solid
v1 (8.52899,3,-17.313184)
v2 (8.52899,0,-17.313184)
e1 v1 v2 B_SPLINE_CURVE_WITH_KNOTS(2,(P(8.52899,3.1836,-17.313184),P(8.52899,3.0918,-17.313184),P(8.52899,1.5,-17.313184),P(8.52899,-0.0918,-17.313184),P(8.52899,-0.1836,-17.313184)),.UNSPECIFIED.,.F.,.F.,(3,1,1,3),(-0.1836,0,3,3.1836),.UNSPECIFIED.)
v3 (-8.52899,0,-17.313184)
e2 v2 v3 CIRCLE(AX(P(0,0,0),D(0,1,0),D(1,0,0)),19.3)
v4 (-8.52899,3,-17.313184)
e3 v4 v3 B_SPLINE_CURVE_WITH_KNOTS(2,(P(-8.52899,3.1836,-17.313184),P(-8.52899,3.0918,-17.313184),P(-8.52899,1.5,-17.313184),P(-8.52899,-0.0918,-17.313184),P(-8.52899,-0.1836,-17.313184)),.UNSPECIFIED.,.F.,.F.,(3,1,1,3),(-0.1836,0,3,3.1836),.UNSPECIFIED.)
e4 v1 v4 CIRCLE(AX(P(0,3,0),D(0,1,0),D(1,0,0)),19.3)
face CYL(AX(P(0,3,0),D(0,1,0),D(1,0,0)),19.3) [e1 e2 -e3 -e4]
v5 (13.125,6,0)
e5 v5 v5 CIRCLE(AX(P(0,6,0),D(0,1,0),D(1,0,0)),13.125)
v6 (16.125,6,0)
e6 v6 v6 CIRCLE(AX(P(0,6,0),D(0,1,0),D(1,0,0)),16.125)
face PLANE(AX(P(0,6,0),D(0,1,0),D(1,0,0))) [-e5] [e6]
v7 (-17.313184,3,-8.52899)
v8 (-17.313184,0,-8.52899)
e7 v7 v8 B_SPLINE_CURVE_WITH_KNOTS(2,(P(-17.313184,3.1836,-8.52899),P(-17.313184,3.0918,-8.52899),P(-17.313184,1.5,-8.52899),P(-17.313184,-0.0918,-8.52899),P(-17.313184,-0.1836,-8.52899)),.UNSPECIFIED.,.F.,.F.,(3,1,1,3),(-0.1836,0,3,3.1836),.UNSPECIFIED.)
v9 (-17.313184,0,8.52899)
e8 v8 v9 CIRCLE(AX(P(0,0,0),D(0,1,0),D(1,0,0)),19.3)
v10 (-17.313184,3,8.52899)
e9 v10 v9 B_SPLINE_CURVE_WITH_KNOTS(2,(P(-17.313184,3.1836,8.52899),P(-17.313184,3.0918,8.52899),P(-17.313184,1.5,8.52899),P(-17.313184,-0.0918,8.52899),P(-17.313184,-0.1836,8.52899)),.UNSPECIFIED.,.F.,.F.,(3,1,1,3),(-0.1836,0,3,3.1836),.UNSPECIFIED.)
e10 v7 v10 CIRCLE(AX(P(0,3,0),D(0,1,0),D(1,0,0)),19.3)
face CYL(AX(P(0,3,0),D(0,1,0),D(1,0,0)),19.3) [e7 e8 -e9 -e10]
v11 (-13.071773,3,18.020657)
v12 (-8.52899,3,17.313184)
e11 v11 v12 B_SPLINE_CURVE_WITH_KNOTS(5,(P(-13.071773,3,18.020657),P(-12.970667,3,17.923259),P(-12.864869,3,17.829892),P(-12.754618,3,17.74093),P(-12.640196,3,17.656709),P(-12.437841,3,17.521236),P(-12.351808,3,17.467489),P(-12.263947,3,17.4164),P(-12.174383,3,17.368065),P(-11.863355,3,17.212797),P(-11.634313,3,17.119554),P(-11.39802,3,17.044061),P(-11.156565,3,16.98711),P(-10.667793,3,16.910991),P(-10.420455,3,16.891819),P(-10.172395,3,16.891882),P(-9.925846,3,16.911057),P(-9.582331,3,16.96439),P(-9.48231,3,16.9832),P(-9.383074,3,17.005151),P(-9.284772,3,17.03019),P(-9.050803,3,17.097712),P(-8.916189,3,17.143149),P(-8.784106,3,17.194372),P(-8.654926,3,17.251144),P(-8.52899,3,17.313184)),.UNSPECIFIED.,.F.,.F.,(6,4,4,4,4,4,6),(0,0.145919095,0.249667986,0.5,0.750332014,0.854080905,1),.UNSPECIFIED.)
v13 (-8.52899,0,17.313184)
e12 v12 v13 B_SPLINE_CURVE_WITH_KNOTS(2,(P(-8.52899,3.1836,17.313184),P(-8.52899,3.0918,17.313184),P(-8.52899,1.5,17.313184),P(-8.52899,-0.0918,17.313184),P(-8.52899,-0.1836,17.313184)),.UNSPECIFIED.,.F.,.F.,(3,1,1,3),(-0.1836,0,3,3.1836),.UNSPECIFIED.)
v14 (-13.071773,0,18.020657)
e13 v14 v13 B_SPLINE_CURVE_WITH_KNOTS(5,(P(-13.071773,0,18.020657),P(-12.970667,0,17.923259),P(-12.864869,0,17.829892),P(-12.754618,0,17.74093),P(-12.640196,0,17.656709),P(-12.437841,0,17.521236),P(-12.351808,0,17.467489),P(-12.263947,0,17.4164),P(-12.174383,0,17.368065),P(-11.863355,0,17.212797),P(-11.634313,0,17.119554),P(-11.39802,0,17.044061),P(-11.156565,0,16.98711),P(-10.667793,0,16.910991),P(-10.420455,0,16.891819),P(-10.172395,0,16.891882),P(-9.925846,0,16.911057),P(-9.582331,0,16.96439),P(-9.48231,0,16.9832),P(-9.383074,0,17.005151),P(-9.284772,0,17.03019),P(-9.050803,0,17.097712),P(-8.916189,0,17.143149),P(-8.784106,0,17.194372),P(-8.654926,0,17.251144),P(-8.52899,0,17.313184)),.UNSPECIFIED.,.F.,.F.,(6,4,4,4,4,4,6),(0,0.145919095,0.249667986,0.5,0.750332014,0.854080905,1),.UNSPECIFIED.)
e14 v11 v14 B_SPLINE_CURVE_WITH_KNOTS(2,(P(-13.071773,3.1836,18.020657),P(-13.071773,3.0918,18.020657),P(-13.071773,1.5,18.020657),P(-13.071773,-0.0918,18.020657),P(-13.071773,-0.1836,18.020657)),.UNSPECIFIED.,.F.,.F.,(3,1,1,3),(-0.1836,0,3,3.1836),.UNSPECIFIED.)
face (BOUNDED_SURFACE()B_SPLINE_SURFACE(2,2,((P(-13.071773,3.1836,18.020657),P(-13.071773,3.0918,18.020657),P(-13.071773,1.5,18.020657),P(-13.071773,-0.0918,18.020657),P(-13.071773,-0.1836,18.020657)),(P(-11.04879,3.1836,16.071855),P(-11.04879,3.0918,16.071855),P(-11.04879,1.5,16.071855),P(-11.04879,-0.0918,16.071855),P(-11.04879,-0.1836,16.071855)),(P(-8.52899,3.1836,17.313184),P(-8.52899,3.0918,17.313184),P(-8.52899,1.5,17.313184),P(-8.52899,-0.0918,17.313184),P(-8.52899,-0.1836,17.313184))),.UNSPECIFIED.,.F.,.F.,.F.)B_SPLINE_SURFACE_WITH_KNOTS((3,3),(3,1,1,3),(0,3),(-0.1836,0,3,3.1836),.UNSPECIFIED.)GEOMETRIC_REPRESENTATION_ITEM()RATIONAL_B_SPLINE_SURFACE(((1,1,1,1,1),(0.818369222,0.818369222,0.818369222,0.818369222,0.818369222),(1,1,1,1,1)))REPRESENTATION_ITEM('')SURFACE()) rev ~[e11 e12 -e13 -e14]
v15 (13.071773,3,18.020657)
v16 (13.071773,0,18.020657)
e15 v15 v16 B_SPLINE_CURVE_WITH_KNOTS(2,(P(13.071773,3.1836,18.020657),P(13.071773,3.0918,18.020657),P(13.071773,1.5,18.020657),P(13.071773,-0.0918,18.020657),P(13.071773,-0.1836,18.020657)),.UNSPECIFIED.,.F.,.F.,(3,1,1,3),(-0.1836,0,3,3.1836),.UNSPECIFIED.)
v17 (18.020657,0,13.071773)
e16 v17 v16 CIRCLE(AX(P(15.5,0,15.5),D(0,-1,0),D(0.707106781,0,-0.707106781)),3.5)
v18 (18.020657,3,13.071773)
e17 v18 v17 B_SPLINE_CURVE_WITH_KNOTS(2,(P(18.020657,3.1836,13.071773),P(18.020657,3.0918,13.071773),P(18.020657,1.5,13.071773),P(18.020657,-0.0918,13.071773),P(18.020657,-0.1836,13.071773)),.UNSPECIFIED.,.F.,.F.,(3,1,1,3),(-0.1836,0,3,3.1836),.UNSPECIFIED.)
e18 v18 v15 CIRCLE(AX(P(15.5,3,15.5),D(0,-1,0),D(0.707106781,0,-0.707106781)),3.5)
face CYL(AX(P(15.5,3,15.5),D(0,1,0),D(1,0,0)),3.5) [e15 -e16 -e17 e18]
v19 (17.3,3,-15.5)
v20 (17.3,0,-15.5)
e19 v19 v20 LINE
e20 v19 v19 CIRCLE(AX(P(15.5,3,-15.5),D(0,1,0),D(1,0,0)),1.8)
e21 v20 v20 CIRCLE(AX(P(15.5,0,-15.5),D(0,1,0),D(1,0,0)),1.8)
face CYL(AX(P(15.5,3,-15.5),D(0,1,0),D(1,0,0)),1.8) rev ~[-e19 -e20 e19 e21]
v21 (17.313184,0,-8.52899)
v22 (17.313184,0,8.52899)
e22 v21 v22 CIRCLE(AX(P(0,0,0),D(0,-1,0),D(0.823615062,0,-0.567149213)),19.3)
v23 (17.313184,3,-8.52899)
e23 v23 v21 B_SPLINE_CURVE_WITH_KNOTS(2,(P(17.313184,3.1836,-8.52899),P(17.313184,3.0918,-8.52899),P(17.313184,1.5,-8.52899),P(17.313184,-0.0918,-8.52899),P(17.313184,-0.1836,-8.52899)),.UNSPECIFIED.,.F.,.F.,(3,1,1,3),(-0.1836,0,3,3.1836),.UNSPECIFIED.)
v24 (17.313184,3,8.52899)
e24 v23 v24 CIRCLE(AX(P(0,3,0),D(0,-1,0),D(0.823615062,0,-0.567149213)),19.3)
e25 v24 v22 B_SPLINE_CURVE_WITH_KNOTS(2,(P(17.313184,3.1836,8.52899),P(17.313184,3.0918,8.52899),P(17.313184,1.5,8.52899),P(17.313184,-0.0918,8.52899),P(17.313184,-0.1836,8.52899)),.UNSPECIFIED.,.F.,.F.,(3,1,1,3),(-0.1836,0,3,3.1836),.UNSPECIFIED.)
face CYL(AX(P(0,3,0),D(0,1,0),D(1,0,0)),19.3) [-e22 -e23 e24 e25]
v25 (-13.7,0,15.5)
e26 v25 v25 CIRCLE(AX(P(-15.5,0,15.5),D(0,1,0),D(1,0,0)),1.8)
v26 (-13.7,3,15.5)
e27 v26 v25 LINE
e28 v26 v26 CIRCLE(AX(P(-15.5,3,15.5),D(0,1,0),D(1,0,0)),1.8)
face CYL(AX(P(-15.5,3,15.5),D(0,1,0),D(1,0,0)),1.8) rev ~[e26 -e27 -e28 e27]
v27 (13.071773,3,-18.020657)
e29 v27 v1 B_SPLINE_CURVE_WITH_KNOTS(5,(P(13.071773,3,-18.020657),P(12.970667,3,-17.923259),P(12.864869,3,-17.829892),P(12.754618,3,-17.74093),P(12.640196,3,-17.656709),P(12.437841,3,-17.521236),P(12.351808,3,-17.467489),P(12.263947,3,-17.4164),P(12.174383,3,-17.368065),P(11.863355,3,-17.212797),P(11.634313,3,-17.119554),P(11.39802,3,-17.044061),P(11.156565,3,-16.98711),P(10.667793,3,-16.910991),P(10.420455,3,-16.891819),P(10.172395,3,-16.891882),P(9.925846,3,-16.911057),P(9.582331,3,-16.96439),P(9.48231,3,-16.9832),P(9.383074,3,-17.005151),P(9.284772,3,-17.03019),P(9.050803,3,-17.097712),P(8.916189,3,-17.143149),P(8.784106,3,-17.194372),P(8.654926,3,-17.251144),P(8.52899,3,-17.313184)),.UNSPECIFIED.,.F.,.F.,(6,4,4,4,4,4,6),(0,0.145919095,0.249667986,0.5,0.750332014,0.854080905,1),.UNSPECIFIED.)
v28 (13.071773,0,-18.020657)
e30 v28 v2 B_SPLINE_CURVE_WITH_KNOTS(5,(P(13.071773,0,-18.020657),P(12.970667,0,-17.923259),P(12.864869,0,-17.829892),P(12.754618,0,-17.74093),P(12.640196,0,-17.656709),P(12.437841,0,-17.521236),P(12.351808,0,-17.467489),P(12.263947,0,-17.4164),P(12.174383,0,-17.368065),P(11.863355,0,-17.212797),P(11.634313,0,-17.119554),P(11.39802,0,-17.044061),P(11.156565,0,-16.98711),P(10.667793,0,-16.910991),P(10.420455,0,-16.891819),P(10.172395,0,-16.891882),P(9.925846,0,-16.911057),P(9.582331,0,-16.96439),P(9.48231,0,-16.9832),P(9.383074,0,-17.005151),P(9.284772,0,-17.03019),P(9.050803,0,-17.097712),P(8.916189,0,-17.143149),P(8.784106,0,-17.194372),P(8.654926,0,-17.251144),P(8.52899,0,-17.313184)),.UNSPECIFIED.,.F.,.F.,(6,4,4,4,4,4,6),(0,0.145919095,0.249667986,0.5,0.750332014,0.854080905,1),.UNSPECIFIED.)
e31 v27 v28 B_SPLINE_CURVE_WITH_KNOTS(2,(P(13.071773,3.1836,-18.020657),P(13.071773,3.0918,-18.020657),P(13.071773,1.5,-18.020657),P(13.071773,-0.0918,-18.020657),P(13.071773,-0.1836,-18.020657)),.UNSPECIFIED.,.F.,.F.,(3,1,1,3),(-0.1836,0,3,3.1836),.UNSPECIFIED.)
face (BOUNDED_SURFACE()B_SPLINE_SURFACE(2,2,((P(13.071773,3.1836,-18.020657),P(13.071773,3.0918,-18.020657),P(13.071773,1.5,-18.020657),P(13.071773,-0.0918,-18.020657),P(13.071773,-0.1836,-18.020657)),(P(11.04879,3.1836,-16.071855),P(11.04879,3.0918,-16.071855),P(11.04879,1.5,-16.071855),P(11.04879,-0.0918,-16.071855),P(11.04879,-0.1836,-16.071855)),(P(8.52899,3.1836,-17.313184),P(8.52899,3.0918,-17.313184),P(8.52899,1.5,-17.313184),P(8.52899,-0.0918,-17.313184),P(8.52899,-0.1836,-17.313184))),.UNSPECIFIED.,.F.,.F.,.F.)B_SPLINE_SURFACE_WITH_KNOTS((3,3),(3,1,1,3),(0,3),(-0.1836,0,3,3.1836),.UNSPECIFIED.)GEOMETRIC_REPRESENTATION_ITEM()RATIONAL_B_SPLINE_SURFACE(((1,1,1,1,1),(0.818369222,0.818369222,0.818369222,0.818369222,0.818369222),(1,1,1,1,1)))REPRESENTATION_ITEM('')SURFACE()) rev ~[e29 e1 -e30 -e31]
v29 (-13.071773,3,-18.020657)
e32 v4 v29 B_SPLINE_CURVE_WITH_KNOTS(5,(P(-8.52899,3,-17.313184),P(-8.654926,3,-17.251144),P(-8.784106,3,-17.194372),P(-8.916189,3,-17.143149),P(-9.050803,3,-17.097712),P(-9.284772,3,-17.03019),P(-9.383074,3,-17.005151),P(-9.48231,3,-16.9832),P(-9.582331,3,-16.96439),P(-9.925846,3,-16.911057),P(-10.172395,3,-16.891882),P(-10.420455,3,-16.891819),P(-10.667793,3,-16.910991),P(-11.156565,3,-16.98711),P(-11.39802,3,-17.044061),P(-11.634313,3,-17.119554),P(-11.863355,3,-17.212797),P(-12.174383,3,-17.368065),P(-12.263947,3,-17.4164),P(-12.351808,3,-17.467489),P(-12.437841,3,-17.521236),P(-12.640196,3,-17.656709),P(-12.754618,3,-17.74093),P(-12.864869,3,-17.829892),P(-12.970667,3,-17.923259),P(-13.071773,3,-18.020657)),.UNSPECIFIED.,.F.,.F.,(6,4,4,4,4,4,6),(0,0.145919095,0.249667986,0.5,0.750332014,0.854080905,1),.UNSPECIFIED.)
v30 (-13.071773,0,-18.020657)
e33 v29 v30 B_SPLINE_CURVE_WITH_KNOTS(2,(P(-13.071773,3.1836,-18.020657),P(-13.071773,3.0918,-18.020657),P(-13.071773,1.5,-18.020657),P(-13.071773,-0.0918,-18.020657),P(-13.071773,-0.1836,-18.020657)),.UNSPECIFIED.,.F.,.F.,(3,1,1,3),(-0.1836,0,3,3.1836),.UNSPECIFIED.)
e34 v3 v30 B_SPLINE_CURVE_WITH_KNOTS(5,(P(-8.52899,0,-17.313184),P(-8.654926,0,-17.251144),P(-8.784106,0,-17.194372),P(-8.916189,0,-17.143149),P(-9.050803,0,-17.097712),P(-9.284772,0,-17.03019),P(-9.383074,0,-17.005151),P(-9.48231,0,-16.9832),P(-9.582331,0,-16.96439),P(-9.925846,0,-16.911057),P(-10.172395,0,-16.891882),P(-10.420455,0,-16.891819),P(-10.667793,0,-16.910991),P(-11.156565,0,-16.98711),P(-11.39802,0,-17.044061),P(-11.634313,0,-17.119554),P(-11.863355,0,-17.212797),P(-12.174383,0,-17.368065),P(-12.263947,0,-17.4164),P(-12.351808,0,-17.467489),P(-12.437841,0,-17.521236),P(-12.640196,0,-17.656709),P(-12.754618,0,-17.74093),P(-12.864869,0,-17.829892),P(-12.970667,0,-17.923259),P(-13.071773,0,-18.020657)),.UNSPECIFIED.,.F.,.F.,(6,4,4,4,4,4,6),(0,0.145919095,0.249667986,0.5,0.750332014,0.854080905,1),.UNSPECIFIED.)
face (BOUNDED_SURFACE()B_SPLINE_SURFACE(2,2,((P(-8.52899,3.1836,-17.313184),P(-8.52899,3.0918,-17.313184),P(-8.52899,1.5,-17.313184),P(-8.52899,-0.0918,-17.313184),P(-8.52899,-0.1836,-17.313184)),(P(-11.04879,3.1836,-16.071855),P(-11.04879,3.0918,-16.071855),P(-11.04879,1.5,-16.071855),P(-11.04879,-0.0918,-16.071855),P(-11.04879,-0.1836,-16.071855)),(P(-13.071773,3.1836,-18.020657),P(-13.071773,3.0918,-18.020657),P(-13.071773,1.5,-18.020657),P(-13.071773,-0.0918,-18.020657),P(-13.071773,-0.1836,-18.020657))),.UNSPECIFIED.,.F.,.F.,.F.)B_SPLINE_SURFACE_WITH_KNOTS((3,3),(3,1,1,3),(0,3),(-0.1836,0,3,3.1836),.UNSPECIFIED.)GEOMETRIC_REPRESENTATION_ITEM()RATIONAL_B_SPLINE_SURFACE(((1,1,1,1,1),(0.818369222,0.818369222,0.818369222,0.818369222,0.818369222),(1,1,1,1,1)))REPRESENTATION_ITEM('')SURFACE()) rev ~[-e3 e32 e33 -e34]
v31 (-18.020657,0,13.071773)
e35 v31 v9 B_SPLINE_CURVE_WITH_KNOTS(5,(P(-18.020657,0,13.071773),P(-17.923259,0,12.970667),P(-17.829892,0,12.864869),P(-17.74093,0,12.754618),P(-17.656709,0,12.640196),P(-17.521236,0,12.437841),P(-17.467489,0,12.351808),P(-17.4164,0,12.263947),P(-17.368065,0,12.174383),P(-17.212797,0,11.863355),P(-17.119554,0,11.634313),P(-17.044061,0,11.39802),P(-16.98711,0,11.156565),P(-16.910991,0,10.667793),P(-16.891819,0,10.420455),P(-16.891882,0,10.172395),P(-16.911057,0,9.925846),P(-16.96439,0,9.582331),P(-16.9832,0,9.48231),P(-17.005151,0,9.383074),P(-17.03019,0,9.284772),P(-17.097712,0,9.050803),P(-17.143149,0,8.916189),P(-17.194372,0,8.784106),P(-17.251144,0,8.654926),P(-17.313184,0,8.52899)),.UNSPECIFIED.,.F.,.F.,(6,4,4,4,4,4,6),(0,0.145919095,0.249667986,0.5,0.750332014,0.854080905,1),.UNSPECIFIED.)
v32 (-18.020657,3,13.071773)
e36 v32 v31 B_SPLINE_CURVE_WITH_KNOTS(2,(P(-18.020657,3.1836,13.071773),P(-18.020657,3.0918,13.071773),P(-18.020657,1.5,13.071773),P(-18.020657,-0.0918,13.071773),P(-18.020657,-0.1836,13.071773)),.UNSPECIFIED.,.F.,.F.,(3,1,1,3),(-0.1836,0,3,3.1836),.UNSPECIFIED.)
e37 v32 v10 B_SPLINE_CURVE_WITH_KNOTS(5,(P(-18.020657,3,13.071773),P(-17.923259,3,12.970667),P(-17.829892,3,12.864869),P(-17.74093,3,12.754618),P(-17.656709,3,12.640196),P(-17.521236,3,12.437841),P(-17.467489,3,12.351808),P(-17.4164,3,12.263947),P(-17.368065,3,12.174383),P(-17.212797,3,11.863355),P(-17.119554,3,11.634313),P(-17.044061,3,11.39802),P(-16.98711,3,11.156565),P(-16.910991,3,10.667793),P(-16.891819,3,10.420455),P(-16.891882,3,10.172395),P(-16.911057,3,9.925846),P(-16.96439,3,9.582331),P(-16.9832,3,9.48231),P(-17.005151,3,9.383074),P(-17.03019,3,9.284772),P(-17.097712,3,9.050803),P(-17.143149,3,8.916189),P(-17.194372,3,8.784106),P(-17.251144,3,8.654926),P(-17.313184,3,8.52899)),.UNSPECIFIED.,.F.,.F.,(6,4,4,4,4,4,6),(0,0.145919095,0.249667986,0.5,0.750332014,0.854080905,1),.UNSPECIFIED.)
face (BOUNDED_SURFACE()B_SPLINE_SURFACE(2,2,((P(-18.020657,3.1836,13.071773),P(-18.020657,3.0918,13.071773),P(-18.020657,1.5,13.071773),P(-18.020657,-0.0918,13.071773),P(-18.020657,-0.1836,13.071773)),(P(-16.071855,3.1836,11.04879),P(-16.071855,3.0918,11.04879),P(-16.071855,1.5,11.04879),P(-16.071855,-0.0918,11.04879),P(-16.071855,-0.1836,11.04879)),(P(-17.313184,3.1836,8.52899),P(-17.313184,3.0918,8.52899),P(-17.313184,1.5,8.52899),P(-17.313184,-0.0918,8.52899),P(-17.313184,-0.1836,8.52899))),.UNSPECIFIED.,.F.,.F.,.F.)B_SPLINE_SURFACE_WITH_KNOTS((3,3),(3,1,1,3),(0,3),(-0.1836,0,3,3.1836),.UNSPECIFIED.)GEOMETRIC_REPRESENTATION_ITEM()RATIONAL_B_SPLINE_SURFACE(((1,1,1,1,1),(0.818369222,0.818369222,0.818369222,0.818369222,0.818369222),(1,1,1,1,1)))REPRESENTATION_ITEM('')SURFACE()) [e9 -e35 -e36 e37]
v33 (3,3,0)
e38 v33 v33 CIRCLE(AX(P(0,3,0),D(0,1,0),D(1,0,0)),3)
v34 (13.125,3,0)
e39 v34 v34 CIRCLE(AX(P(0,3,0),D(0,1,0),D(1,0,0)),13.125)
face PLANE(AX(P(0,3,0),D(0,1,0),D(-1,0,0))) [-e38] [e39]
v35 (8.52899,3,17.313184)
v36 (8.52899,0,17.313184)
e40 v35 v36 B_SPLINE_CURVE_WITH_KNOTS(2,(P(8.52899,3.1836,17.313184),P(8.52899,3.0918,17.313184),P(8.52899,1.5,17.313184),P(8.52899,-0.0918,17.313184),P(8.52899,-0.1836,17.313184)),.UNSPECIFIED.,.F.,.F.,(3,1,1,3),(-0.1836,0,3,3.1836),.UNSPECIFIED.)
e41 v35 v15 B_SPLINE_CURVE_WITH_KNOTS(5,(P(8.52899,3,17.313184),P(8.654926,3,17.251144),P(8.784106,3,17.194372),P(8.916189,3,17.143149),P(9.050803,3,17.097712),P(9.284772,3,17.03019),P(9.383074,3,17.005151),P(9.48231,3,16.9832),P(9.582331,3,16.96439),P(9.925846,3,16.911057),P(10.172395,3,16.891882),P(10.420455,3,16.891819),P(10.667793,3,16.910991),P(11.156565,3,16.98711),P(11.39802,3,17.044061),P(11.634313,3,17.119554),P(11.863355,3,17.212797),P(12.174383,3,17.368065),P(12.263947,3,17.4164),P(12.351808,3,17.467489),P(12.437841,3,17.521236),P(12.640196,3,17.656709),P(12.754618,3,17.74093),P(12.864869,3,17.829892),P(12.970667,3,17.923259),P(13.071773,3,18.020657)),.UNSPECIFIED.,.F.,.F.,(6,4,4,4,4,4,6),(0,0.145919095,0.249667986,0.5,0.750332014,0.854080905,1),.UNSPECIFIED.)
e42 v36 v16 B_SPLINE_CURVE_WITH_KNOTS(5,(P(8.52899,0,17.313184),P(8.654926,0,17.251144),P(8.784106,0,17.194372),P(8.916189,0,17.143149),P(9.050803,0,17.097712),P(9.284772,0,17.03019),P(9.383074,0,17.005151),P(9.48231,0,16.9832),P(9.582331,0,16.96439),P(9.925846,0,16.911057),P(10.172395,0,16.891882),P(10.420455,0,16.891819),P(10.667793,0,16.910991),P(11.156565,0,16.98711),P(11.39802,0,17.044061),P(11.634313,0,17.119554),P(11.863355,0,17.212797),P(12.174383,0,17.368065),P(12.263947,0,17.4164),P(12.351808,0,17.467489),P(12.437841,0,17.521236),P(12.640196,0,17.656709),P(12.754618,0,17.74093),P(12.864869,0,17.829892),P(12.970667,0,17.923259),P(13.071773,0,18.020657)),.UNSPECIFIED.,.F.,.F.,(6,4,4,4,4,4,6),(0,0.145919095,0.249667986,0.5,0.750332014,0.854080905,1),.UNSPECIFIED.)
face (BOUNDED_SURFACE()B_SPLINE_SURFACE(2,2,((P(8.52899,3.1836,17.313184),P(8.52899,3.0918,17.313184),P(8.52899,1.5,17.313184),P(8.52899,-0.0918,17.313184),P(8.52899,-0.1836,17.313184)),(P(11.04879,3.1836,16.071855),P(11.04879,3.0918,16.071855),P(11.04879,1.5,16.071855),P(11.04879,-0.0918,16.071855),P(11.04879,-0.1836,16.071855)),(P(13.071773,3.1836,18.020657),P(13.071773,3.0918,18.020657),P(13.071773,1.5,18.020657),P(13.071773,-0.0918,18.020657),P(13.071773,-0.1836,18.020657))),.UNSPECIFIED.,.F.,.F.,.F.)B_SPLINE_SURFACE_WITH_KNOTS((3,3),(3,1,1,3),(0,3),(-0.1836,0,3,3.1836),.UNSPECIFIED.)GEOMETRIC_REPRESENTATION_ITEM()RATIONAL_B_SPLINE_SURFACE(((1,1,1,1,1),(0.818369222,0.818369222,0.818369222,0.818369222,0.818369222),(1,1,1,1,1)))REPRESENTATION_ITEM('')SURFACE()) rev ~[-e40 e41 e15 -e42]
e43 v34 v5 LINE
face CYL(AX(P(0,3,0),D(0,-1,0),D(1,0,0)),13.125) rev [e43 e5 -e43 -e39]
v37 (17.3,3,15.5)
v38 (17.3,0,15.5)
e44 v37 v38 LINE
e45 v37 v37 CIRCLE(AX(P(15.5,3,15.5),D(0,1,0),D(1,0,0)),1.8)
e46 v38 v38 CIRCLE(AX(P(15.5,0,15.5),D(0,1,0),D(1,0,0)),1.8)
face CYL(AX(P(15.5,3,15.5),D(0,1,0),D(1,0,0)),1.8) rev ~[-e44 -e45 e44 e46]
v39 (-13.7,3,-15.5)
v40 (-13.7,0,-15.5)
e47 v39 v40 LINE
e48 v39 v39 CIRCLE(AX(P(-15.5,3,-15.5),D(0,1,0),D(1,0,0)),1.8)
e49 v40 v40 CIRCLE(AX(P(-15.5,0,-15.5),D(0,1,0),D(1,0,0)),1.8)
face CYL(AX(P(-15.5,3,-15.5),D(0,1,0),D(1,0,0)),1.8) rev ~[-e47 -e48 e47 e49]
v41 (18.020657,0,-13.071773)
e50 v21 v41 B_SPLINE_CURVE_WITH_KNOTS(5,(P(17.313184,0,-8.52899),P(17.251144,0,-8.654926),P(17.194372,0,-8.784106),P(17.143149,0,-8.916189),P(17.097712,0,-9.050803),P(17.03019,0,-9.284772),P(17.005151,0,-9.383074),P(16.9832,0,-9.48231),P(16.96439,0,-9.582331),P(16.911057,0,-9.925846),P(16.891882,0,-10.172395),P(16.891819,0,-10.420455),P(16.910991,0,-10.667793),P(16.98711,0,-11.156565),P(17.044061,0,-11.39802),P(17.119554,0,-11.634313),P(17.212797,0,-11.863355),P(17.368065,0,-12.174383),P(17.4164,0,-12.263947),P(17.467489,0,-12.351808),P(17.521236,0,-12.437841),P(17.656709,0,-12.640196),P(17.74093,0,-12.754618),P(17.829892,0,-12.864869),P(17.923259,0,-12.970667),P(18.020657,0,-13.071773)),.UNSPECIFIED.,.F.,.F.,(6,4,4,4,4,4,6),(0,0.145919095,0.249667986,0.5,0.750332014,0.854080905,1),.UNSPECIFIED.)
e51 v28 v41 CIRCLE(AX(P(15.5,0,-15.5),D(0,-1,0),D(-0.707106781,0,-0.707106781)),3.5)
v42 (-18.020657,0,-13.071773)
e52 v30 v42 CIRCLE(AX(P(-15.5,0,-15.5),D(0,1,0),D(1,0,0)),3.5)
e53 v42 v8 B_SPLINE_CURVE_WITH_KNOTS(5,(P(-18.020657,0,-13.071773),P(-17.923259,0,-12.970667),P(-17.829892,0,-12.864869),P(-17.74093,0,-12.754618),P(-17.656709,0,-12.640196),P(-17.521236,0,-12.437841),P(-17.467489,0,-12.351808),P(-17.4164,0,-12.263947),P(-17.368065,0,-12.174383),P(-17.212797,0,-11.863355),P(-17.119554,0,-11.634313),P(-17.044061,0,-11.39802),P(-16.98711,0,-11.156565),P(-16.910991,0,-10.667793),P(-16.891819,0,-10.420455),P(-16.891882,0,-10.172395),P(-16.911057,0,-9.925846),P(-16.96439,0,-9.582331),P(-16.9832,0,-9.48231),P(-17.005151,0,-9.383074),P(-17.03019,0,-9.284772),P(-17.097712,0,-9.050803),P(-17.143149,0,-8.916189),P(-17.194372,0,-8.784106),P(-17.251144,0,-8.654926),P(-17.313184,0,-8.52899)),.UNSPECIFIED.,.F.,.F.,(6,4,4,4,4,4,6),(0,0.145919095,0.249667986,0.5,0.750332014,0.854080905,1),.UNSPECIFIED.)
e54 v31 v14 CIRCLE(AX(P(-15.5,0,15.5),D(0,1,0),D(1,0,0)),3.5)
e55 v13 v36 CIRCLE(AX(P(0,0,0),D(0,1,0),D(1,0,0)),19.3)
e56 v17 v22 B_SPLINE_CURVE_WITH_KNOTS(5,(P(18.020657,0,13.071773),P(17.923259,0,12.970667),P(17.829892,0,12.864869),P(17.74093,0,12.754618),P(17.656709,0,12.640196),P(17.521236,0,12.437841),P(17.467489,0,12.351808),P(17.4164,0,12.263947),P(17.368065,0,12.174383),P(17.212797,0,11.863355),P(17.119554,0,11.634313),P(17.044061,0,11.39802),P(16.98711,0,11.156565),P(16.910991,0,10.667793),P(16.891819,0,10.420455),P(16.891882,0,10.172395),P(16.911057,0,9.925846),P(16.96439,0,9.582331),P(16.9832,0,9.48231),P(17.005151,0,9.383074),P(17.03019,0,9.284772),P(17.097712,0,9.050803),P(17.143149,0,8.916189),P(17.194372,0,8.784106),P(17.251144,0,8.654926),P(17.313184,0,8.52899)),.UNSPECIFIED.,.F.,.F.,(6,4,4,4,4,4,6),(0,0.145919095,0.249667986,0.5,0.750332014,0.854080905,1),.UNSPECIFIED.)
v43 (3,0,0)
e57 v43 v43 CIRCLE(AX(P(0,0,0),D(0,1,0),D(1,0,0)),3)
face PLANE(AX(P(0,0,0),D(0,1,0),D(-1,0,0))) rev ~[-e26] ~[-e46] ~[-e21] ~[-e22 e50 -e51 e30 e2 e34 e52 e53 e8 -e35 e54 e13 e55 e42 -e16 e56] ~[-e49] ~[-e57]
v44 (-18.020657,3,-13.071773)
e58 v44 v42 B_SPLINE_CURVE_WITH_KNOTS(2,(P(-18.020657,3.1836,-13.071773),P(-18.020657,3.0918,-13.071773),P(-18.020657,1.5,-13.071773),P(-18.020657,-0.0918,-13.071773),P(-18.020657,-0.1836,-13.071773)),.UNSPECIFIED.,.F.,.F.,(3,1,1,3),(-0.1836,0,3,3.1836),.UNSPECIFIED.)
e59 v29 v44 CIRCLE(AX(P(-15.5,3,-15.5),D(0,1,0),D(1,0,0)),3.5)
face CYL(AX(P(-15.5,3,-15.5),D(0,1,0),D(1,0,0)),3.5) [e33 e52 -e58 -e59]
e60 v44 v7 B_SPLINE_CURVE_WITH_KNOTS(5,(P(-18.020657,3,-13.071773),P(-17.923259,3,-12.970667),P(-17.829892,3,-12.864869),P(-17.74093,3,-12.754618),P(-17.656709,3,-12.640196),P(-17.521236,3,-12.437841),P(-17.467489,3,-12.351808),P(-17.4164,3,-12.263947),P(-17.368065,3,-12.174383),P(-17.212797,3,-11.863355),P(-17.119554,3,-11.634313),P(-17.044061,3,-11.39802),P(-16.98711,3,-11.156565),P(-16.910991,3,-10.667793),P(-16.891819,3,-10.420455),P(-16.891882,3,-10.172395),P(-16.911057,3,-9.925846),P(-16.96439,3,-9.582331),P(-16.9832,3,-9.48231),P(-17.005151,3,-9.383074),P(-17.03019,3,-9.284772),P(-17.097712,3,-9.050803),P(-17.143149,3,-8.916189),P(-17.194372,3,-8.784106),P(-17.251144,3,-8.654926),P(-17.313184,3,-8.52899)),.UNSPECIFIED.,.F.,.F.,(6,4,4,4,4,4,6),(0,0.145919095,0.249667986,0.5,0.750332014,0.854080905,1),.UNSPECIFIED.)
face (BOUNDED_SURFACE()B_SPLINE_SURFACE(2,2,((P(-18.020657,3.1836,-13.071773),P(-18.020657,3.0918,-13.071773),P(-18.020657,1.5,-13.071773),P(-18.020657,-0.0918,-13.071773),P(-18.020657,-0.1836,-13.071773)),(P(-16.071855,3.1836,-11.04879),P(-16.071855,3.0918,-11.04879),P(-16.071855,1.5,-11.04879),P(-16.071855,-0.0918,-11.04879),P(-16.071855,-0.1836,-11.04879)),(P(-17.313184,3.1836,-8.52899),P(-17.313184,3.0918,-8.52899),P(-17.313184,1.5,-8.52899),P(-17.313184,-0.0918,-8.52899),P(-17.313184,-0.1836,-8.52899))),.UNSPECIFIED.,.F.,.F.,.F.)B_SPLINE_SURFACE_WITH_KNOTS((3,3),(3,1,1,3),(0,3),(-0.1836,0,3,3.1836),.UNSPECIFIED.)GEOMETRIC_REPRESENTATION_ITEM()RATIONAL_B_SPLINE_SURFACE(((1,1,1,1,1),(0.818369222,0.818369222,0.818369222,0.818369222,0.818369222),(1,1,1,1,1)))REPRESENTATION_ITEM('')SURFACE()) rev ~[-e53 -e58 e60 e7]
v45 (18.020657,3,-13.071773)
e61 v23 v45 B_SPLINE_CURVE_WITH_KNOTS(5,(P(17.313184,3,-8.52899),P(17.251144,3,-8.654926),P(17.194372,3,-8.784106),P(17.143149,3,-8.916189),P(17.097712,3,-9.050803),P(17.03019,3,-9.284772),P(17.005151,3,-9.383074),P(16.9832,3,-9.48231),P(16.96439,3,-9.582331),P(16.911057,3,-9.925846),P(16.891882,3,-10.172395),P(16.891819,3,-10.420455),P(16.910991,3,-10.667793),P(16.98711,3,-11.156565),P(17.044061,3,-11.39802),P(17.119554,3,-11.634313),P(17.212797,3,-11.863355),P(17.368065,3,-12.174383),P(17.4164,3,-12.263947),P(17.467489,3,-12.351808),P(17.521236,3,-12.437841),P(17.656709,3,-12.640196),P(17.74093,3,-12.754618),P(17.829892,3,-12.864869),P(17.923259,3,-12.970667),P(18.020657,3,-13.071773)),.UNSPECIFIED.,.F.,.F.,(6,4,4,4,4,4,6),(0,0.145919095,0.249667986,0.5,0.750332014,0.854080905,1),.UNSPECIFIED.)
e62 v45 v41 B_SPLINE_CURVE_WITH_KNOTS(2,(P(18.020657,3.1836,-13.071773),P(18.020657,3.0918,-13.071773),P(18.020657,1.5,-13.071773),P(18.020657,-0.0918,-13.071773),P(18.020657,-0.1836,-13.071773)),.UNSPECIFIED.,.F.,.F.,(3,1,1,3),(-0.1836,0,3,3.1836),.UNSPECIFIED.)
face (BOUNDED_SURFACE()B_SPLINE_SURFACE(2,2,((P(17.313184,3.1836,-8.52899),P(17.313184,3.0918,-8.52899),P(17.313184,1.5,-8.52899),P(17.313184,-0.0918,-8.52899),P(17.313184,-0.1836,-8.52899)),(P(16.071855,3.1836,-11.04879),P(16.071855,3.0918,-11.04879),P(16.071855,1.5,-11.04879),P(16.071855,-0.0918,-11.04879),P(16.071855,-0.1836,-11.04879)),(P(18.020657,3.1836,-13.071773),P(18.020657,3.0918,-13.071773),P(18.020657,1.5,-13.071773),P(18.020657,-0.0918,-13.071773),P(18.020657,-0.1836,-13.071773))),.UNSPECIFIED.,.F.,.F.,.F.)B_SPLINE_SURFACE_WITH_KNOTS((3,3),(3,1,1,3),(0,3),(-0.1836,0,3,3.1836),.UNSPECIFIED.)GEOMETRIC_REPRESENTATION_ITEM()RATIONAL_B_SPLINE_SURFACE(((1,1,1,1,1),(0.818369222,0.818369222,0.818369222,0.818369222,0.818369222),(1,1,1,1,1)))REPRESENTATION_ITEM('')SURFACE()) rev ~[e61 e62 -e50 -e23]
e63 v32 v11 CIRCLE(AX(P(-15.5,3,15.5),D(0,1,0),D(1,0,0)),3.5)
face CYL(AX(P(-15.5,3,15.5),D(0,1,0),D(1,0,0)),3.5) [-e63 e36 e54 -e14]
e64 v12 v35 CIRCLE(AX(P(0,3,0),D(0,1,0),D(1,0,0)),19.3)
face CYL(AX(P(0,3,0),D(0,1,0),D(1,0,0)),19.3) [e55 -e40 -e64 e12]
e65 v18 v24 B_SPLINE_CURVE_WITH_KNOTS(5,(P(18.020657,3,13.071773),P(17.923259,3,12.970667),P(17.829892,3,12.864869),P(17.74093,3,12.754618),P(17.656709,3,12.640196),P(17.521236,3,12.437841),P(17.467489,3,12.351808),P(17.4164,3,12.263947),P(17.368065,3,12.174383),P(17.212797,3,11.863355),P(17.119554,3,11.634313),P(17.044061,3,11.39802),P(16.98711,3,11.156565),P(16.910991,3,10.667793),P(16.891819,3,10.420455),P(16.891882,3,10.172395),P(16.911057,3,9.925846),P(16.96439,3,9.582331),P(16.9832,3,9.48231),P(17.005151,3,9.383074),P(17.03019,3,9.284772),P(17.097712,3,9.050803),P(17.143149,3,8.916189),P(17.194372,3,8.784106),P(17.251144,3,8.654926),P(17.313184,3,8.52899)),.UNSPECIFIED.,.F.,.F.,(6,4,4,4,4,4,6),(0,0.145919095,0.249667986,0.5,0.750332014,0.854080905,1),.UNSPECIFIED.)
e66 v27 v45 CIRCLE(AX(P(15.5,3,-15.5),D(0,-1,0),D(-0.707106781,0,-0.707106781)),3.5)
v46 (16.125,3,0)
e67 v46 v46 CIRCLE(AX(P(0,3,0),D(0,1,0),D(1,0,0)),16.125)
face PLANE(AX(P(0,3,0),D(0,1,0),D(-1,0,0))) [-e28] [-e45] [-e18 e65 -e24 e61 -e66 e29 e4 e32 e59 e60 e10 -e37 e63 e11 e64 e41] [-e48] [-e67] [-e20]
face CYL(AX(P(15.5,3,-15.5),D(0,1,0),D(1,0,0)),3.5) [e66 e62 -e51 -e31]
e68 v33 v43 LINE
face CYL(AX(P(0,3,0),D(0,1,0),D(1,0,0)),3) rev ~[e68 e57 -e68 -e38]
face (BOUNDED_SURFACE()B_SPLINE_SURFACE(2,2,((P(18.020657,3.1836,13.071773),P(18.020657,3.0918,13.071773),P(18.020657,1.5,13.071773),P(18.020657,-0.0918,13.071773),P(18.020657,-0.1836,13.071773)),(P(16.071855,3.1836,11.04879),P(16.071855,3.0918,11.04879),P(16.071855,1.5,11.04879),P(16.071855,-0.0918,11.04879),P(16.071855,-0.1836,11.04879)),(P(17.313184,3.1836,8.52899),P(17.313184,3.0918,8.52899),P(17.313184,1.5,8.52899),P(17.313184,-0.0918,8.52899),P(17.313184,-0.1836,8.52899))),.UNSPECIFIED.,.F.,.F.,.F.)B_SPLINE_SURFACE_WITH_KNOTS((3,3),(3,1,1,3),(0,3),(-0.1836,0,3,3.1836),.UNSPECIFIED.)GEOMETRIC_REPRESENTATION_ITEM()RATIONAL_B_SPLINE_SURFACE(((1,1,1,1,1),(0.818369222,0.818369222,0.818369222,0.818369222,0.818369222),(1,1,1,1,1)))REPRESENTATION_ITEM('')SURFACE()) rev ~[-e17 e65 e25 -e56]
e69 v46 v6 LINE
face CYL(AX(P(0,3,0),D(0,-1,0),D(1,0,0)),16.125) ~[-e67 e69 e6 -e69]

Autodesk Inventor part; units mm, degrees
ref_plane "YZ Plane" through (0, 0, 0) normal (1, 0, 0) x (0, 1, 0)
ref_plane "XZ Plane" through (0, 0, 0) normal (0, 1, 0) x (-1, 0, 0)
ref_plane "XY Plane" through (0, 0, 0) normal (0, 0, 1) x (1, 0, 0)
sketch "Sketch1" plane through (0, 0, 0) normal (0, 1, 0) x (-1, 0, 0)
  line L0 (-21, 21) -> (21, 21)
  line L1 (21, 21) -> (21, -21)
  line L2 (21, -21) -> (-21, -21)
  line L3 (-21, -21) -> (-21, 21)
  line L4 (-21, 21) -> (21, -21) construction
  line L5 (21, 21) -> (-21, -21) construction
  point P0 (0, 0)
  dimension "d0" = 42
  dimension "d1" = 42
extrude "Extrusion1" add sketch "Sketch1" along normal blind 3
sketch "Sketch2" plane through (0, 3, 0) normal (0, 1, 0) x (1, 0, 0)
  circle A0 centre (0, 0) radius 3
  circle A1 centre (-15.5, -15.5) radius 1.8
  circle A2 centre (-15.5, 15.5) radius 1.8
  circle A3 centre (15.5, 15.5) radius 1.8
  circle A4 centre (15.5, -15.5) radius 1.8
  dimension "d4" = 6
  dimension "d5" = 3.6
  dimension "d6" = 31
  dimension "d7" = 15.5
  dimension "d8" = 15.5
  dimension "d9" = 31
extrude "Extrusion2" cut sketch "Sketch2" against normal blind 10
sketch "Sketch3" plane through (0, 3, 0) normal (0, 1, 0) x (1, 0, 0)
  circle A0 centre (-15.5, -15.5) radius 1.8 projected
  circle A1 centre (-15.5, -15.5) radius 3.5
  circle A2 centre (0, 0) radius 19.3
  line L0 (-13.0251, -17.9749) -> (-10.946, -15.8958)
  line L1 (-17.9749, -13.0251) -> (-15.8958, -10.946)
  circle A3 centre (15.5, -15.5) radius 1.8 projected
  circle A4 centre (15.5, -15.5) radius 3.5
  circle A5 centre (15.5, 15.5) radius 1.8 projected
  circle A6 centre (15.5, 15.5) radius 3.5
  circle A7 centre (-15.5, 15.5) radius 1.8 projected
  circle A8 centre (-15.5, 15.5) radius 3.5
  line L2 (13.0251, -17.9749) -> (10.946, -15.8958)
  line L3 (17.9749, -13.0251) -> (15.8958, -10.946)
  line L4 (13.0251, 17.9749) -> (10.946, 15.8958)
  line L5 (17.9749, 13.0251) -> (15.8958, 10.946)
  line L6 (-15.8958, 10.946) -> (-17.9749, 13.0251)
  line L7 (-10.946, 15.8958) -> (-13.0251, 17.9749)
  circle A9 centre (15.5, 15.5) radius 1.8 projected
  circle A10 centre (-15.5, 15.5) radius 1.8 projected
  circle A11 centre (15.5, -15.5) radius 1.8 projected
  circle A12 centre (-15.5, -15.5) radius 1.8 projected
  circle A13 centre (0, 0) radius 3 projected
  line L8 (-21, 21) -> (-21, -21) projected
  line L9 (-21, -21) -> (21, -21) projected
  line L10 (21, -21) -> (21, 21) projected
  line L11 (21, 21) -> (-21, 21) projected
  dimension "d13" = 38.6
  dimension "d12" = 7
extrude "Extrusion3" cut sketch "Sketch3" against normal blind 10 contours L11 L10 L9 L8
sketch "Sketch4" plane through (0, 3, 0) normal (0, 1, 0) x (1, 0, 0)
  circle A0 centre (0, 0) radius 3 projected
  circle A1 centre (0, 0) radius 16.125
  circle A2 centre (0, 0) radius 13.125
  dimension "d16" = 32.25
  dimension "d17" = 3
extrude "Extrusion4" add sketch "Sketch4" along normal blind 3 contours A1
fillet "Fillet1" radius 4 8 edges at (-15.8958, 1.5, -10.946) (-15.8958, 1.5, 10.946) (-10.946, 1.5, 15.8958) (10.946, 1.5, 15.8958) (15.8958, 1.5, 10.946) (15.8958, 1.5, -10.946) (10.946, 1.5, -15.8958) (-10.946, 1.5, -15.8958)
properties part number "Lid"
